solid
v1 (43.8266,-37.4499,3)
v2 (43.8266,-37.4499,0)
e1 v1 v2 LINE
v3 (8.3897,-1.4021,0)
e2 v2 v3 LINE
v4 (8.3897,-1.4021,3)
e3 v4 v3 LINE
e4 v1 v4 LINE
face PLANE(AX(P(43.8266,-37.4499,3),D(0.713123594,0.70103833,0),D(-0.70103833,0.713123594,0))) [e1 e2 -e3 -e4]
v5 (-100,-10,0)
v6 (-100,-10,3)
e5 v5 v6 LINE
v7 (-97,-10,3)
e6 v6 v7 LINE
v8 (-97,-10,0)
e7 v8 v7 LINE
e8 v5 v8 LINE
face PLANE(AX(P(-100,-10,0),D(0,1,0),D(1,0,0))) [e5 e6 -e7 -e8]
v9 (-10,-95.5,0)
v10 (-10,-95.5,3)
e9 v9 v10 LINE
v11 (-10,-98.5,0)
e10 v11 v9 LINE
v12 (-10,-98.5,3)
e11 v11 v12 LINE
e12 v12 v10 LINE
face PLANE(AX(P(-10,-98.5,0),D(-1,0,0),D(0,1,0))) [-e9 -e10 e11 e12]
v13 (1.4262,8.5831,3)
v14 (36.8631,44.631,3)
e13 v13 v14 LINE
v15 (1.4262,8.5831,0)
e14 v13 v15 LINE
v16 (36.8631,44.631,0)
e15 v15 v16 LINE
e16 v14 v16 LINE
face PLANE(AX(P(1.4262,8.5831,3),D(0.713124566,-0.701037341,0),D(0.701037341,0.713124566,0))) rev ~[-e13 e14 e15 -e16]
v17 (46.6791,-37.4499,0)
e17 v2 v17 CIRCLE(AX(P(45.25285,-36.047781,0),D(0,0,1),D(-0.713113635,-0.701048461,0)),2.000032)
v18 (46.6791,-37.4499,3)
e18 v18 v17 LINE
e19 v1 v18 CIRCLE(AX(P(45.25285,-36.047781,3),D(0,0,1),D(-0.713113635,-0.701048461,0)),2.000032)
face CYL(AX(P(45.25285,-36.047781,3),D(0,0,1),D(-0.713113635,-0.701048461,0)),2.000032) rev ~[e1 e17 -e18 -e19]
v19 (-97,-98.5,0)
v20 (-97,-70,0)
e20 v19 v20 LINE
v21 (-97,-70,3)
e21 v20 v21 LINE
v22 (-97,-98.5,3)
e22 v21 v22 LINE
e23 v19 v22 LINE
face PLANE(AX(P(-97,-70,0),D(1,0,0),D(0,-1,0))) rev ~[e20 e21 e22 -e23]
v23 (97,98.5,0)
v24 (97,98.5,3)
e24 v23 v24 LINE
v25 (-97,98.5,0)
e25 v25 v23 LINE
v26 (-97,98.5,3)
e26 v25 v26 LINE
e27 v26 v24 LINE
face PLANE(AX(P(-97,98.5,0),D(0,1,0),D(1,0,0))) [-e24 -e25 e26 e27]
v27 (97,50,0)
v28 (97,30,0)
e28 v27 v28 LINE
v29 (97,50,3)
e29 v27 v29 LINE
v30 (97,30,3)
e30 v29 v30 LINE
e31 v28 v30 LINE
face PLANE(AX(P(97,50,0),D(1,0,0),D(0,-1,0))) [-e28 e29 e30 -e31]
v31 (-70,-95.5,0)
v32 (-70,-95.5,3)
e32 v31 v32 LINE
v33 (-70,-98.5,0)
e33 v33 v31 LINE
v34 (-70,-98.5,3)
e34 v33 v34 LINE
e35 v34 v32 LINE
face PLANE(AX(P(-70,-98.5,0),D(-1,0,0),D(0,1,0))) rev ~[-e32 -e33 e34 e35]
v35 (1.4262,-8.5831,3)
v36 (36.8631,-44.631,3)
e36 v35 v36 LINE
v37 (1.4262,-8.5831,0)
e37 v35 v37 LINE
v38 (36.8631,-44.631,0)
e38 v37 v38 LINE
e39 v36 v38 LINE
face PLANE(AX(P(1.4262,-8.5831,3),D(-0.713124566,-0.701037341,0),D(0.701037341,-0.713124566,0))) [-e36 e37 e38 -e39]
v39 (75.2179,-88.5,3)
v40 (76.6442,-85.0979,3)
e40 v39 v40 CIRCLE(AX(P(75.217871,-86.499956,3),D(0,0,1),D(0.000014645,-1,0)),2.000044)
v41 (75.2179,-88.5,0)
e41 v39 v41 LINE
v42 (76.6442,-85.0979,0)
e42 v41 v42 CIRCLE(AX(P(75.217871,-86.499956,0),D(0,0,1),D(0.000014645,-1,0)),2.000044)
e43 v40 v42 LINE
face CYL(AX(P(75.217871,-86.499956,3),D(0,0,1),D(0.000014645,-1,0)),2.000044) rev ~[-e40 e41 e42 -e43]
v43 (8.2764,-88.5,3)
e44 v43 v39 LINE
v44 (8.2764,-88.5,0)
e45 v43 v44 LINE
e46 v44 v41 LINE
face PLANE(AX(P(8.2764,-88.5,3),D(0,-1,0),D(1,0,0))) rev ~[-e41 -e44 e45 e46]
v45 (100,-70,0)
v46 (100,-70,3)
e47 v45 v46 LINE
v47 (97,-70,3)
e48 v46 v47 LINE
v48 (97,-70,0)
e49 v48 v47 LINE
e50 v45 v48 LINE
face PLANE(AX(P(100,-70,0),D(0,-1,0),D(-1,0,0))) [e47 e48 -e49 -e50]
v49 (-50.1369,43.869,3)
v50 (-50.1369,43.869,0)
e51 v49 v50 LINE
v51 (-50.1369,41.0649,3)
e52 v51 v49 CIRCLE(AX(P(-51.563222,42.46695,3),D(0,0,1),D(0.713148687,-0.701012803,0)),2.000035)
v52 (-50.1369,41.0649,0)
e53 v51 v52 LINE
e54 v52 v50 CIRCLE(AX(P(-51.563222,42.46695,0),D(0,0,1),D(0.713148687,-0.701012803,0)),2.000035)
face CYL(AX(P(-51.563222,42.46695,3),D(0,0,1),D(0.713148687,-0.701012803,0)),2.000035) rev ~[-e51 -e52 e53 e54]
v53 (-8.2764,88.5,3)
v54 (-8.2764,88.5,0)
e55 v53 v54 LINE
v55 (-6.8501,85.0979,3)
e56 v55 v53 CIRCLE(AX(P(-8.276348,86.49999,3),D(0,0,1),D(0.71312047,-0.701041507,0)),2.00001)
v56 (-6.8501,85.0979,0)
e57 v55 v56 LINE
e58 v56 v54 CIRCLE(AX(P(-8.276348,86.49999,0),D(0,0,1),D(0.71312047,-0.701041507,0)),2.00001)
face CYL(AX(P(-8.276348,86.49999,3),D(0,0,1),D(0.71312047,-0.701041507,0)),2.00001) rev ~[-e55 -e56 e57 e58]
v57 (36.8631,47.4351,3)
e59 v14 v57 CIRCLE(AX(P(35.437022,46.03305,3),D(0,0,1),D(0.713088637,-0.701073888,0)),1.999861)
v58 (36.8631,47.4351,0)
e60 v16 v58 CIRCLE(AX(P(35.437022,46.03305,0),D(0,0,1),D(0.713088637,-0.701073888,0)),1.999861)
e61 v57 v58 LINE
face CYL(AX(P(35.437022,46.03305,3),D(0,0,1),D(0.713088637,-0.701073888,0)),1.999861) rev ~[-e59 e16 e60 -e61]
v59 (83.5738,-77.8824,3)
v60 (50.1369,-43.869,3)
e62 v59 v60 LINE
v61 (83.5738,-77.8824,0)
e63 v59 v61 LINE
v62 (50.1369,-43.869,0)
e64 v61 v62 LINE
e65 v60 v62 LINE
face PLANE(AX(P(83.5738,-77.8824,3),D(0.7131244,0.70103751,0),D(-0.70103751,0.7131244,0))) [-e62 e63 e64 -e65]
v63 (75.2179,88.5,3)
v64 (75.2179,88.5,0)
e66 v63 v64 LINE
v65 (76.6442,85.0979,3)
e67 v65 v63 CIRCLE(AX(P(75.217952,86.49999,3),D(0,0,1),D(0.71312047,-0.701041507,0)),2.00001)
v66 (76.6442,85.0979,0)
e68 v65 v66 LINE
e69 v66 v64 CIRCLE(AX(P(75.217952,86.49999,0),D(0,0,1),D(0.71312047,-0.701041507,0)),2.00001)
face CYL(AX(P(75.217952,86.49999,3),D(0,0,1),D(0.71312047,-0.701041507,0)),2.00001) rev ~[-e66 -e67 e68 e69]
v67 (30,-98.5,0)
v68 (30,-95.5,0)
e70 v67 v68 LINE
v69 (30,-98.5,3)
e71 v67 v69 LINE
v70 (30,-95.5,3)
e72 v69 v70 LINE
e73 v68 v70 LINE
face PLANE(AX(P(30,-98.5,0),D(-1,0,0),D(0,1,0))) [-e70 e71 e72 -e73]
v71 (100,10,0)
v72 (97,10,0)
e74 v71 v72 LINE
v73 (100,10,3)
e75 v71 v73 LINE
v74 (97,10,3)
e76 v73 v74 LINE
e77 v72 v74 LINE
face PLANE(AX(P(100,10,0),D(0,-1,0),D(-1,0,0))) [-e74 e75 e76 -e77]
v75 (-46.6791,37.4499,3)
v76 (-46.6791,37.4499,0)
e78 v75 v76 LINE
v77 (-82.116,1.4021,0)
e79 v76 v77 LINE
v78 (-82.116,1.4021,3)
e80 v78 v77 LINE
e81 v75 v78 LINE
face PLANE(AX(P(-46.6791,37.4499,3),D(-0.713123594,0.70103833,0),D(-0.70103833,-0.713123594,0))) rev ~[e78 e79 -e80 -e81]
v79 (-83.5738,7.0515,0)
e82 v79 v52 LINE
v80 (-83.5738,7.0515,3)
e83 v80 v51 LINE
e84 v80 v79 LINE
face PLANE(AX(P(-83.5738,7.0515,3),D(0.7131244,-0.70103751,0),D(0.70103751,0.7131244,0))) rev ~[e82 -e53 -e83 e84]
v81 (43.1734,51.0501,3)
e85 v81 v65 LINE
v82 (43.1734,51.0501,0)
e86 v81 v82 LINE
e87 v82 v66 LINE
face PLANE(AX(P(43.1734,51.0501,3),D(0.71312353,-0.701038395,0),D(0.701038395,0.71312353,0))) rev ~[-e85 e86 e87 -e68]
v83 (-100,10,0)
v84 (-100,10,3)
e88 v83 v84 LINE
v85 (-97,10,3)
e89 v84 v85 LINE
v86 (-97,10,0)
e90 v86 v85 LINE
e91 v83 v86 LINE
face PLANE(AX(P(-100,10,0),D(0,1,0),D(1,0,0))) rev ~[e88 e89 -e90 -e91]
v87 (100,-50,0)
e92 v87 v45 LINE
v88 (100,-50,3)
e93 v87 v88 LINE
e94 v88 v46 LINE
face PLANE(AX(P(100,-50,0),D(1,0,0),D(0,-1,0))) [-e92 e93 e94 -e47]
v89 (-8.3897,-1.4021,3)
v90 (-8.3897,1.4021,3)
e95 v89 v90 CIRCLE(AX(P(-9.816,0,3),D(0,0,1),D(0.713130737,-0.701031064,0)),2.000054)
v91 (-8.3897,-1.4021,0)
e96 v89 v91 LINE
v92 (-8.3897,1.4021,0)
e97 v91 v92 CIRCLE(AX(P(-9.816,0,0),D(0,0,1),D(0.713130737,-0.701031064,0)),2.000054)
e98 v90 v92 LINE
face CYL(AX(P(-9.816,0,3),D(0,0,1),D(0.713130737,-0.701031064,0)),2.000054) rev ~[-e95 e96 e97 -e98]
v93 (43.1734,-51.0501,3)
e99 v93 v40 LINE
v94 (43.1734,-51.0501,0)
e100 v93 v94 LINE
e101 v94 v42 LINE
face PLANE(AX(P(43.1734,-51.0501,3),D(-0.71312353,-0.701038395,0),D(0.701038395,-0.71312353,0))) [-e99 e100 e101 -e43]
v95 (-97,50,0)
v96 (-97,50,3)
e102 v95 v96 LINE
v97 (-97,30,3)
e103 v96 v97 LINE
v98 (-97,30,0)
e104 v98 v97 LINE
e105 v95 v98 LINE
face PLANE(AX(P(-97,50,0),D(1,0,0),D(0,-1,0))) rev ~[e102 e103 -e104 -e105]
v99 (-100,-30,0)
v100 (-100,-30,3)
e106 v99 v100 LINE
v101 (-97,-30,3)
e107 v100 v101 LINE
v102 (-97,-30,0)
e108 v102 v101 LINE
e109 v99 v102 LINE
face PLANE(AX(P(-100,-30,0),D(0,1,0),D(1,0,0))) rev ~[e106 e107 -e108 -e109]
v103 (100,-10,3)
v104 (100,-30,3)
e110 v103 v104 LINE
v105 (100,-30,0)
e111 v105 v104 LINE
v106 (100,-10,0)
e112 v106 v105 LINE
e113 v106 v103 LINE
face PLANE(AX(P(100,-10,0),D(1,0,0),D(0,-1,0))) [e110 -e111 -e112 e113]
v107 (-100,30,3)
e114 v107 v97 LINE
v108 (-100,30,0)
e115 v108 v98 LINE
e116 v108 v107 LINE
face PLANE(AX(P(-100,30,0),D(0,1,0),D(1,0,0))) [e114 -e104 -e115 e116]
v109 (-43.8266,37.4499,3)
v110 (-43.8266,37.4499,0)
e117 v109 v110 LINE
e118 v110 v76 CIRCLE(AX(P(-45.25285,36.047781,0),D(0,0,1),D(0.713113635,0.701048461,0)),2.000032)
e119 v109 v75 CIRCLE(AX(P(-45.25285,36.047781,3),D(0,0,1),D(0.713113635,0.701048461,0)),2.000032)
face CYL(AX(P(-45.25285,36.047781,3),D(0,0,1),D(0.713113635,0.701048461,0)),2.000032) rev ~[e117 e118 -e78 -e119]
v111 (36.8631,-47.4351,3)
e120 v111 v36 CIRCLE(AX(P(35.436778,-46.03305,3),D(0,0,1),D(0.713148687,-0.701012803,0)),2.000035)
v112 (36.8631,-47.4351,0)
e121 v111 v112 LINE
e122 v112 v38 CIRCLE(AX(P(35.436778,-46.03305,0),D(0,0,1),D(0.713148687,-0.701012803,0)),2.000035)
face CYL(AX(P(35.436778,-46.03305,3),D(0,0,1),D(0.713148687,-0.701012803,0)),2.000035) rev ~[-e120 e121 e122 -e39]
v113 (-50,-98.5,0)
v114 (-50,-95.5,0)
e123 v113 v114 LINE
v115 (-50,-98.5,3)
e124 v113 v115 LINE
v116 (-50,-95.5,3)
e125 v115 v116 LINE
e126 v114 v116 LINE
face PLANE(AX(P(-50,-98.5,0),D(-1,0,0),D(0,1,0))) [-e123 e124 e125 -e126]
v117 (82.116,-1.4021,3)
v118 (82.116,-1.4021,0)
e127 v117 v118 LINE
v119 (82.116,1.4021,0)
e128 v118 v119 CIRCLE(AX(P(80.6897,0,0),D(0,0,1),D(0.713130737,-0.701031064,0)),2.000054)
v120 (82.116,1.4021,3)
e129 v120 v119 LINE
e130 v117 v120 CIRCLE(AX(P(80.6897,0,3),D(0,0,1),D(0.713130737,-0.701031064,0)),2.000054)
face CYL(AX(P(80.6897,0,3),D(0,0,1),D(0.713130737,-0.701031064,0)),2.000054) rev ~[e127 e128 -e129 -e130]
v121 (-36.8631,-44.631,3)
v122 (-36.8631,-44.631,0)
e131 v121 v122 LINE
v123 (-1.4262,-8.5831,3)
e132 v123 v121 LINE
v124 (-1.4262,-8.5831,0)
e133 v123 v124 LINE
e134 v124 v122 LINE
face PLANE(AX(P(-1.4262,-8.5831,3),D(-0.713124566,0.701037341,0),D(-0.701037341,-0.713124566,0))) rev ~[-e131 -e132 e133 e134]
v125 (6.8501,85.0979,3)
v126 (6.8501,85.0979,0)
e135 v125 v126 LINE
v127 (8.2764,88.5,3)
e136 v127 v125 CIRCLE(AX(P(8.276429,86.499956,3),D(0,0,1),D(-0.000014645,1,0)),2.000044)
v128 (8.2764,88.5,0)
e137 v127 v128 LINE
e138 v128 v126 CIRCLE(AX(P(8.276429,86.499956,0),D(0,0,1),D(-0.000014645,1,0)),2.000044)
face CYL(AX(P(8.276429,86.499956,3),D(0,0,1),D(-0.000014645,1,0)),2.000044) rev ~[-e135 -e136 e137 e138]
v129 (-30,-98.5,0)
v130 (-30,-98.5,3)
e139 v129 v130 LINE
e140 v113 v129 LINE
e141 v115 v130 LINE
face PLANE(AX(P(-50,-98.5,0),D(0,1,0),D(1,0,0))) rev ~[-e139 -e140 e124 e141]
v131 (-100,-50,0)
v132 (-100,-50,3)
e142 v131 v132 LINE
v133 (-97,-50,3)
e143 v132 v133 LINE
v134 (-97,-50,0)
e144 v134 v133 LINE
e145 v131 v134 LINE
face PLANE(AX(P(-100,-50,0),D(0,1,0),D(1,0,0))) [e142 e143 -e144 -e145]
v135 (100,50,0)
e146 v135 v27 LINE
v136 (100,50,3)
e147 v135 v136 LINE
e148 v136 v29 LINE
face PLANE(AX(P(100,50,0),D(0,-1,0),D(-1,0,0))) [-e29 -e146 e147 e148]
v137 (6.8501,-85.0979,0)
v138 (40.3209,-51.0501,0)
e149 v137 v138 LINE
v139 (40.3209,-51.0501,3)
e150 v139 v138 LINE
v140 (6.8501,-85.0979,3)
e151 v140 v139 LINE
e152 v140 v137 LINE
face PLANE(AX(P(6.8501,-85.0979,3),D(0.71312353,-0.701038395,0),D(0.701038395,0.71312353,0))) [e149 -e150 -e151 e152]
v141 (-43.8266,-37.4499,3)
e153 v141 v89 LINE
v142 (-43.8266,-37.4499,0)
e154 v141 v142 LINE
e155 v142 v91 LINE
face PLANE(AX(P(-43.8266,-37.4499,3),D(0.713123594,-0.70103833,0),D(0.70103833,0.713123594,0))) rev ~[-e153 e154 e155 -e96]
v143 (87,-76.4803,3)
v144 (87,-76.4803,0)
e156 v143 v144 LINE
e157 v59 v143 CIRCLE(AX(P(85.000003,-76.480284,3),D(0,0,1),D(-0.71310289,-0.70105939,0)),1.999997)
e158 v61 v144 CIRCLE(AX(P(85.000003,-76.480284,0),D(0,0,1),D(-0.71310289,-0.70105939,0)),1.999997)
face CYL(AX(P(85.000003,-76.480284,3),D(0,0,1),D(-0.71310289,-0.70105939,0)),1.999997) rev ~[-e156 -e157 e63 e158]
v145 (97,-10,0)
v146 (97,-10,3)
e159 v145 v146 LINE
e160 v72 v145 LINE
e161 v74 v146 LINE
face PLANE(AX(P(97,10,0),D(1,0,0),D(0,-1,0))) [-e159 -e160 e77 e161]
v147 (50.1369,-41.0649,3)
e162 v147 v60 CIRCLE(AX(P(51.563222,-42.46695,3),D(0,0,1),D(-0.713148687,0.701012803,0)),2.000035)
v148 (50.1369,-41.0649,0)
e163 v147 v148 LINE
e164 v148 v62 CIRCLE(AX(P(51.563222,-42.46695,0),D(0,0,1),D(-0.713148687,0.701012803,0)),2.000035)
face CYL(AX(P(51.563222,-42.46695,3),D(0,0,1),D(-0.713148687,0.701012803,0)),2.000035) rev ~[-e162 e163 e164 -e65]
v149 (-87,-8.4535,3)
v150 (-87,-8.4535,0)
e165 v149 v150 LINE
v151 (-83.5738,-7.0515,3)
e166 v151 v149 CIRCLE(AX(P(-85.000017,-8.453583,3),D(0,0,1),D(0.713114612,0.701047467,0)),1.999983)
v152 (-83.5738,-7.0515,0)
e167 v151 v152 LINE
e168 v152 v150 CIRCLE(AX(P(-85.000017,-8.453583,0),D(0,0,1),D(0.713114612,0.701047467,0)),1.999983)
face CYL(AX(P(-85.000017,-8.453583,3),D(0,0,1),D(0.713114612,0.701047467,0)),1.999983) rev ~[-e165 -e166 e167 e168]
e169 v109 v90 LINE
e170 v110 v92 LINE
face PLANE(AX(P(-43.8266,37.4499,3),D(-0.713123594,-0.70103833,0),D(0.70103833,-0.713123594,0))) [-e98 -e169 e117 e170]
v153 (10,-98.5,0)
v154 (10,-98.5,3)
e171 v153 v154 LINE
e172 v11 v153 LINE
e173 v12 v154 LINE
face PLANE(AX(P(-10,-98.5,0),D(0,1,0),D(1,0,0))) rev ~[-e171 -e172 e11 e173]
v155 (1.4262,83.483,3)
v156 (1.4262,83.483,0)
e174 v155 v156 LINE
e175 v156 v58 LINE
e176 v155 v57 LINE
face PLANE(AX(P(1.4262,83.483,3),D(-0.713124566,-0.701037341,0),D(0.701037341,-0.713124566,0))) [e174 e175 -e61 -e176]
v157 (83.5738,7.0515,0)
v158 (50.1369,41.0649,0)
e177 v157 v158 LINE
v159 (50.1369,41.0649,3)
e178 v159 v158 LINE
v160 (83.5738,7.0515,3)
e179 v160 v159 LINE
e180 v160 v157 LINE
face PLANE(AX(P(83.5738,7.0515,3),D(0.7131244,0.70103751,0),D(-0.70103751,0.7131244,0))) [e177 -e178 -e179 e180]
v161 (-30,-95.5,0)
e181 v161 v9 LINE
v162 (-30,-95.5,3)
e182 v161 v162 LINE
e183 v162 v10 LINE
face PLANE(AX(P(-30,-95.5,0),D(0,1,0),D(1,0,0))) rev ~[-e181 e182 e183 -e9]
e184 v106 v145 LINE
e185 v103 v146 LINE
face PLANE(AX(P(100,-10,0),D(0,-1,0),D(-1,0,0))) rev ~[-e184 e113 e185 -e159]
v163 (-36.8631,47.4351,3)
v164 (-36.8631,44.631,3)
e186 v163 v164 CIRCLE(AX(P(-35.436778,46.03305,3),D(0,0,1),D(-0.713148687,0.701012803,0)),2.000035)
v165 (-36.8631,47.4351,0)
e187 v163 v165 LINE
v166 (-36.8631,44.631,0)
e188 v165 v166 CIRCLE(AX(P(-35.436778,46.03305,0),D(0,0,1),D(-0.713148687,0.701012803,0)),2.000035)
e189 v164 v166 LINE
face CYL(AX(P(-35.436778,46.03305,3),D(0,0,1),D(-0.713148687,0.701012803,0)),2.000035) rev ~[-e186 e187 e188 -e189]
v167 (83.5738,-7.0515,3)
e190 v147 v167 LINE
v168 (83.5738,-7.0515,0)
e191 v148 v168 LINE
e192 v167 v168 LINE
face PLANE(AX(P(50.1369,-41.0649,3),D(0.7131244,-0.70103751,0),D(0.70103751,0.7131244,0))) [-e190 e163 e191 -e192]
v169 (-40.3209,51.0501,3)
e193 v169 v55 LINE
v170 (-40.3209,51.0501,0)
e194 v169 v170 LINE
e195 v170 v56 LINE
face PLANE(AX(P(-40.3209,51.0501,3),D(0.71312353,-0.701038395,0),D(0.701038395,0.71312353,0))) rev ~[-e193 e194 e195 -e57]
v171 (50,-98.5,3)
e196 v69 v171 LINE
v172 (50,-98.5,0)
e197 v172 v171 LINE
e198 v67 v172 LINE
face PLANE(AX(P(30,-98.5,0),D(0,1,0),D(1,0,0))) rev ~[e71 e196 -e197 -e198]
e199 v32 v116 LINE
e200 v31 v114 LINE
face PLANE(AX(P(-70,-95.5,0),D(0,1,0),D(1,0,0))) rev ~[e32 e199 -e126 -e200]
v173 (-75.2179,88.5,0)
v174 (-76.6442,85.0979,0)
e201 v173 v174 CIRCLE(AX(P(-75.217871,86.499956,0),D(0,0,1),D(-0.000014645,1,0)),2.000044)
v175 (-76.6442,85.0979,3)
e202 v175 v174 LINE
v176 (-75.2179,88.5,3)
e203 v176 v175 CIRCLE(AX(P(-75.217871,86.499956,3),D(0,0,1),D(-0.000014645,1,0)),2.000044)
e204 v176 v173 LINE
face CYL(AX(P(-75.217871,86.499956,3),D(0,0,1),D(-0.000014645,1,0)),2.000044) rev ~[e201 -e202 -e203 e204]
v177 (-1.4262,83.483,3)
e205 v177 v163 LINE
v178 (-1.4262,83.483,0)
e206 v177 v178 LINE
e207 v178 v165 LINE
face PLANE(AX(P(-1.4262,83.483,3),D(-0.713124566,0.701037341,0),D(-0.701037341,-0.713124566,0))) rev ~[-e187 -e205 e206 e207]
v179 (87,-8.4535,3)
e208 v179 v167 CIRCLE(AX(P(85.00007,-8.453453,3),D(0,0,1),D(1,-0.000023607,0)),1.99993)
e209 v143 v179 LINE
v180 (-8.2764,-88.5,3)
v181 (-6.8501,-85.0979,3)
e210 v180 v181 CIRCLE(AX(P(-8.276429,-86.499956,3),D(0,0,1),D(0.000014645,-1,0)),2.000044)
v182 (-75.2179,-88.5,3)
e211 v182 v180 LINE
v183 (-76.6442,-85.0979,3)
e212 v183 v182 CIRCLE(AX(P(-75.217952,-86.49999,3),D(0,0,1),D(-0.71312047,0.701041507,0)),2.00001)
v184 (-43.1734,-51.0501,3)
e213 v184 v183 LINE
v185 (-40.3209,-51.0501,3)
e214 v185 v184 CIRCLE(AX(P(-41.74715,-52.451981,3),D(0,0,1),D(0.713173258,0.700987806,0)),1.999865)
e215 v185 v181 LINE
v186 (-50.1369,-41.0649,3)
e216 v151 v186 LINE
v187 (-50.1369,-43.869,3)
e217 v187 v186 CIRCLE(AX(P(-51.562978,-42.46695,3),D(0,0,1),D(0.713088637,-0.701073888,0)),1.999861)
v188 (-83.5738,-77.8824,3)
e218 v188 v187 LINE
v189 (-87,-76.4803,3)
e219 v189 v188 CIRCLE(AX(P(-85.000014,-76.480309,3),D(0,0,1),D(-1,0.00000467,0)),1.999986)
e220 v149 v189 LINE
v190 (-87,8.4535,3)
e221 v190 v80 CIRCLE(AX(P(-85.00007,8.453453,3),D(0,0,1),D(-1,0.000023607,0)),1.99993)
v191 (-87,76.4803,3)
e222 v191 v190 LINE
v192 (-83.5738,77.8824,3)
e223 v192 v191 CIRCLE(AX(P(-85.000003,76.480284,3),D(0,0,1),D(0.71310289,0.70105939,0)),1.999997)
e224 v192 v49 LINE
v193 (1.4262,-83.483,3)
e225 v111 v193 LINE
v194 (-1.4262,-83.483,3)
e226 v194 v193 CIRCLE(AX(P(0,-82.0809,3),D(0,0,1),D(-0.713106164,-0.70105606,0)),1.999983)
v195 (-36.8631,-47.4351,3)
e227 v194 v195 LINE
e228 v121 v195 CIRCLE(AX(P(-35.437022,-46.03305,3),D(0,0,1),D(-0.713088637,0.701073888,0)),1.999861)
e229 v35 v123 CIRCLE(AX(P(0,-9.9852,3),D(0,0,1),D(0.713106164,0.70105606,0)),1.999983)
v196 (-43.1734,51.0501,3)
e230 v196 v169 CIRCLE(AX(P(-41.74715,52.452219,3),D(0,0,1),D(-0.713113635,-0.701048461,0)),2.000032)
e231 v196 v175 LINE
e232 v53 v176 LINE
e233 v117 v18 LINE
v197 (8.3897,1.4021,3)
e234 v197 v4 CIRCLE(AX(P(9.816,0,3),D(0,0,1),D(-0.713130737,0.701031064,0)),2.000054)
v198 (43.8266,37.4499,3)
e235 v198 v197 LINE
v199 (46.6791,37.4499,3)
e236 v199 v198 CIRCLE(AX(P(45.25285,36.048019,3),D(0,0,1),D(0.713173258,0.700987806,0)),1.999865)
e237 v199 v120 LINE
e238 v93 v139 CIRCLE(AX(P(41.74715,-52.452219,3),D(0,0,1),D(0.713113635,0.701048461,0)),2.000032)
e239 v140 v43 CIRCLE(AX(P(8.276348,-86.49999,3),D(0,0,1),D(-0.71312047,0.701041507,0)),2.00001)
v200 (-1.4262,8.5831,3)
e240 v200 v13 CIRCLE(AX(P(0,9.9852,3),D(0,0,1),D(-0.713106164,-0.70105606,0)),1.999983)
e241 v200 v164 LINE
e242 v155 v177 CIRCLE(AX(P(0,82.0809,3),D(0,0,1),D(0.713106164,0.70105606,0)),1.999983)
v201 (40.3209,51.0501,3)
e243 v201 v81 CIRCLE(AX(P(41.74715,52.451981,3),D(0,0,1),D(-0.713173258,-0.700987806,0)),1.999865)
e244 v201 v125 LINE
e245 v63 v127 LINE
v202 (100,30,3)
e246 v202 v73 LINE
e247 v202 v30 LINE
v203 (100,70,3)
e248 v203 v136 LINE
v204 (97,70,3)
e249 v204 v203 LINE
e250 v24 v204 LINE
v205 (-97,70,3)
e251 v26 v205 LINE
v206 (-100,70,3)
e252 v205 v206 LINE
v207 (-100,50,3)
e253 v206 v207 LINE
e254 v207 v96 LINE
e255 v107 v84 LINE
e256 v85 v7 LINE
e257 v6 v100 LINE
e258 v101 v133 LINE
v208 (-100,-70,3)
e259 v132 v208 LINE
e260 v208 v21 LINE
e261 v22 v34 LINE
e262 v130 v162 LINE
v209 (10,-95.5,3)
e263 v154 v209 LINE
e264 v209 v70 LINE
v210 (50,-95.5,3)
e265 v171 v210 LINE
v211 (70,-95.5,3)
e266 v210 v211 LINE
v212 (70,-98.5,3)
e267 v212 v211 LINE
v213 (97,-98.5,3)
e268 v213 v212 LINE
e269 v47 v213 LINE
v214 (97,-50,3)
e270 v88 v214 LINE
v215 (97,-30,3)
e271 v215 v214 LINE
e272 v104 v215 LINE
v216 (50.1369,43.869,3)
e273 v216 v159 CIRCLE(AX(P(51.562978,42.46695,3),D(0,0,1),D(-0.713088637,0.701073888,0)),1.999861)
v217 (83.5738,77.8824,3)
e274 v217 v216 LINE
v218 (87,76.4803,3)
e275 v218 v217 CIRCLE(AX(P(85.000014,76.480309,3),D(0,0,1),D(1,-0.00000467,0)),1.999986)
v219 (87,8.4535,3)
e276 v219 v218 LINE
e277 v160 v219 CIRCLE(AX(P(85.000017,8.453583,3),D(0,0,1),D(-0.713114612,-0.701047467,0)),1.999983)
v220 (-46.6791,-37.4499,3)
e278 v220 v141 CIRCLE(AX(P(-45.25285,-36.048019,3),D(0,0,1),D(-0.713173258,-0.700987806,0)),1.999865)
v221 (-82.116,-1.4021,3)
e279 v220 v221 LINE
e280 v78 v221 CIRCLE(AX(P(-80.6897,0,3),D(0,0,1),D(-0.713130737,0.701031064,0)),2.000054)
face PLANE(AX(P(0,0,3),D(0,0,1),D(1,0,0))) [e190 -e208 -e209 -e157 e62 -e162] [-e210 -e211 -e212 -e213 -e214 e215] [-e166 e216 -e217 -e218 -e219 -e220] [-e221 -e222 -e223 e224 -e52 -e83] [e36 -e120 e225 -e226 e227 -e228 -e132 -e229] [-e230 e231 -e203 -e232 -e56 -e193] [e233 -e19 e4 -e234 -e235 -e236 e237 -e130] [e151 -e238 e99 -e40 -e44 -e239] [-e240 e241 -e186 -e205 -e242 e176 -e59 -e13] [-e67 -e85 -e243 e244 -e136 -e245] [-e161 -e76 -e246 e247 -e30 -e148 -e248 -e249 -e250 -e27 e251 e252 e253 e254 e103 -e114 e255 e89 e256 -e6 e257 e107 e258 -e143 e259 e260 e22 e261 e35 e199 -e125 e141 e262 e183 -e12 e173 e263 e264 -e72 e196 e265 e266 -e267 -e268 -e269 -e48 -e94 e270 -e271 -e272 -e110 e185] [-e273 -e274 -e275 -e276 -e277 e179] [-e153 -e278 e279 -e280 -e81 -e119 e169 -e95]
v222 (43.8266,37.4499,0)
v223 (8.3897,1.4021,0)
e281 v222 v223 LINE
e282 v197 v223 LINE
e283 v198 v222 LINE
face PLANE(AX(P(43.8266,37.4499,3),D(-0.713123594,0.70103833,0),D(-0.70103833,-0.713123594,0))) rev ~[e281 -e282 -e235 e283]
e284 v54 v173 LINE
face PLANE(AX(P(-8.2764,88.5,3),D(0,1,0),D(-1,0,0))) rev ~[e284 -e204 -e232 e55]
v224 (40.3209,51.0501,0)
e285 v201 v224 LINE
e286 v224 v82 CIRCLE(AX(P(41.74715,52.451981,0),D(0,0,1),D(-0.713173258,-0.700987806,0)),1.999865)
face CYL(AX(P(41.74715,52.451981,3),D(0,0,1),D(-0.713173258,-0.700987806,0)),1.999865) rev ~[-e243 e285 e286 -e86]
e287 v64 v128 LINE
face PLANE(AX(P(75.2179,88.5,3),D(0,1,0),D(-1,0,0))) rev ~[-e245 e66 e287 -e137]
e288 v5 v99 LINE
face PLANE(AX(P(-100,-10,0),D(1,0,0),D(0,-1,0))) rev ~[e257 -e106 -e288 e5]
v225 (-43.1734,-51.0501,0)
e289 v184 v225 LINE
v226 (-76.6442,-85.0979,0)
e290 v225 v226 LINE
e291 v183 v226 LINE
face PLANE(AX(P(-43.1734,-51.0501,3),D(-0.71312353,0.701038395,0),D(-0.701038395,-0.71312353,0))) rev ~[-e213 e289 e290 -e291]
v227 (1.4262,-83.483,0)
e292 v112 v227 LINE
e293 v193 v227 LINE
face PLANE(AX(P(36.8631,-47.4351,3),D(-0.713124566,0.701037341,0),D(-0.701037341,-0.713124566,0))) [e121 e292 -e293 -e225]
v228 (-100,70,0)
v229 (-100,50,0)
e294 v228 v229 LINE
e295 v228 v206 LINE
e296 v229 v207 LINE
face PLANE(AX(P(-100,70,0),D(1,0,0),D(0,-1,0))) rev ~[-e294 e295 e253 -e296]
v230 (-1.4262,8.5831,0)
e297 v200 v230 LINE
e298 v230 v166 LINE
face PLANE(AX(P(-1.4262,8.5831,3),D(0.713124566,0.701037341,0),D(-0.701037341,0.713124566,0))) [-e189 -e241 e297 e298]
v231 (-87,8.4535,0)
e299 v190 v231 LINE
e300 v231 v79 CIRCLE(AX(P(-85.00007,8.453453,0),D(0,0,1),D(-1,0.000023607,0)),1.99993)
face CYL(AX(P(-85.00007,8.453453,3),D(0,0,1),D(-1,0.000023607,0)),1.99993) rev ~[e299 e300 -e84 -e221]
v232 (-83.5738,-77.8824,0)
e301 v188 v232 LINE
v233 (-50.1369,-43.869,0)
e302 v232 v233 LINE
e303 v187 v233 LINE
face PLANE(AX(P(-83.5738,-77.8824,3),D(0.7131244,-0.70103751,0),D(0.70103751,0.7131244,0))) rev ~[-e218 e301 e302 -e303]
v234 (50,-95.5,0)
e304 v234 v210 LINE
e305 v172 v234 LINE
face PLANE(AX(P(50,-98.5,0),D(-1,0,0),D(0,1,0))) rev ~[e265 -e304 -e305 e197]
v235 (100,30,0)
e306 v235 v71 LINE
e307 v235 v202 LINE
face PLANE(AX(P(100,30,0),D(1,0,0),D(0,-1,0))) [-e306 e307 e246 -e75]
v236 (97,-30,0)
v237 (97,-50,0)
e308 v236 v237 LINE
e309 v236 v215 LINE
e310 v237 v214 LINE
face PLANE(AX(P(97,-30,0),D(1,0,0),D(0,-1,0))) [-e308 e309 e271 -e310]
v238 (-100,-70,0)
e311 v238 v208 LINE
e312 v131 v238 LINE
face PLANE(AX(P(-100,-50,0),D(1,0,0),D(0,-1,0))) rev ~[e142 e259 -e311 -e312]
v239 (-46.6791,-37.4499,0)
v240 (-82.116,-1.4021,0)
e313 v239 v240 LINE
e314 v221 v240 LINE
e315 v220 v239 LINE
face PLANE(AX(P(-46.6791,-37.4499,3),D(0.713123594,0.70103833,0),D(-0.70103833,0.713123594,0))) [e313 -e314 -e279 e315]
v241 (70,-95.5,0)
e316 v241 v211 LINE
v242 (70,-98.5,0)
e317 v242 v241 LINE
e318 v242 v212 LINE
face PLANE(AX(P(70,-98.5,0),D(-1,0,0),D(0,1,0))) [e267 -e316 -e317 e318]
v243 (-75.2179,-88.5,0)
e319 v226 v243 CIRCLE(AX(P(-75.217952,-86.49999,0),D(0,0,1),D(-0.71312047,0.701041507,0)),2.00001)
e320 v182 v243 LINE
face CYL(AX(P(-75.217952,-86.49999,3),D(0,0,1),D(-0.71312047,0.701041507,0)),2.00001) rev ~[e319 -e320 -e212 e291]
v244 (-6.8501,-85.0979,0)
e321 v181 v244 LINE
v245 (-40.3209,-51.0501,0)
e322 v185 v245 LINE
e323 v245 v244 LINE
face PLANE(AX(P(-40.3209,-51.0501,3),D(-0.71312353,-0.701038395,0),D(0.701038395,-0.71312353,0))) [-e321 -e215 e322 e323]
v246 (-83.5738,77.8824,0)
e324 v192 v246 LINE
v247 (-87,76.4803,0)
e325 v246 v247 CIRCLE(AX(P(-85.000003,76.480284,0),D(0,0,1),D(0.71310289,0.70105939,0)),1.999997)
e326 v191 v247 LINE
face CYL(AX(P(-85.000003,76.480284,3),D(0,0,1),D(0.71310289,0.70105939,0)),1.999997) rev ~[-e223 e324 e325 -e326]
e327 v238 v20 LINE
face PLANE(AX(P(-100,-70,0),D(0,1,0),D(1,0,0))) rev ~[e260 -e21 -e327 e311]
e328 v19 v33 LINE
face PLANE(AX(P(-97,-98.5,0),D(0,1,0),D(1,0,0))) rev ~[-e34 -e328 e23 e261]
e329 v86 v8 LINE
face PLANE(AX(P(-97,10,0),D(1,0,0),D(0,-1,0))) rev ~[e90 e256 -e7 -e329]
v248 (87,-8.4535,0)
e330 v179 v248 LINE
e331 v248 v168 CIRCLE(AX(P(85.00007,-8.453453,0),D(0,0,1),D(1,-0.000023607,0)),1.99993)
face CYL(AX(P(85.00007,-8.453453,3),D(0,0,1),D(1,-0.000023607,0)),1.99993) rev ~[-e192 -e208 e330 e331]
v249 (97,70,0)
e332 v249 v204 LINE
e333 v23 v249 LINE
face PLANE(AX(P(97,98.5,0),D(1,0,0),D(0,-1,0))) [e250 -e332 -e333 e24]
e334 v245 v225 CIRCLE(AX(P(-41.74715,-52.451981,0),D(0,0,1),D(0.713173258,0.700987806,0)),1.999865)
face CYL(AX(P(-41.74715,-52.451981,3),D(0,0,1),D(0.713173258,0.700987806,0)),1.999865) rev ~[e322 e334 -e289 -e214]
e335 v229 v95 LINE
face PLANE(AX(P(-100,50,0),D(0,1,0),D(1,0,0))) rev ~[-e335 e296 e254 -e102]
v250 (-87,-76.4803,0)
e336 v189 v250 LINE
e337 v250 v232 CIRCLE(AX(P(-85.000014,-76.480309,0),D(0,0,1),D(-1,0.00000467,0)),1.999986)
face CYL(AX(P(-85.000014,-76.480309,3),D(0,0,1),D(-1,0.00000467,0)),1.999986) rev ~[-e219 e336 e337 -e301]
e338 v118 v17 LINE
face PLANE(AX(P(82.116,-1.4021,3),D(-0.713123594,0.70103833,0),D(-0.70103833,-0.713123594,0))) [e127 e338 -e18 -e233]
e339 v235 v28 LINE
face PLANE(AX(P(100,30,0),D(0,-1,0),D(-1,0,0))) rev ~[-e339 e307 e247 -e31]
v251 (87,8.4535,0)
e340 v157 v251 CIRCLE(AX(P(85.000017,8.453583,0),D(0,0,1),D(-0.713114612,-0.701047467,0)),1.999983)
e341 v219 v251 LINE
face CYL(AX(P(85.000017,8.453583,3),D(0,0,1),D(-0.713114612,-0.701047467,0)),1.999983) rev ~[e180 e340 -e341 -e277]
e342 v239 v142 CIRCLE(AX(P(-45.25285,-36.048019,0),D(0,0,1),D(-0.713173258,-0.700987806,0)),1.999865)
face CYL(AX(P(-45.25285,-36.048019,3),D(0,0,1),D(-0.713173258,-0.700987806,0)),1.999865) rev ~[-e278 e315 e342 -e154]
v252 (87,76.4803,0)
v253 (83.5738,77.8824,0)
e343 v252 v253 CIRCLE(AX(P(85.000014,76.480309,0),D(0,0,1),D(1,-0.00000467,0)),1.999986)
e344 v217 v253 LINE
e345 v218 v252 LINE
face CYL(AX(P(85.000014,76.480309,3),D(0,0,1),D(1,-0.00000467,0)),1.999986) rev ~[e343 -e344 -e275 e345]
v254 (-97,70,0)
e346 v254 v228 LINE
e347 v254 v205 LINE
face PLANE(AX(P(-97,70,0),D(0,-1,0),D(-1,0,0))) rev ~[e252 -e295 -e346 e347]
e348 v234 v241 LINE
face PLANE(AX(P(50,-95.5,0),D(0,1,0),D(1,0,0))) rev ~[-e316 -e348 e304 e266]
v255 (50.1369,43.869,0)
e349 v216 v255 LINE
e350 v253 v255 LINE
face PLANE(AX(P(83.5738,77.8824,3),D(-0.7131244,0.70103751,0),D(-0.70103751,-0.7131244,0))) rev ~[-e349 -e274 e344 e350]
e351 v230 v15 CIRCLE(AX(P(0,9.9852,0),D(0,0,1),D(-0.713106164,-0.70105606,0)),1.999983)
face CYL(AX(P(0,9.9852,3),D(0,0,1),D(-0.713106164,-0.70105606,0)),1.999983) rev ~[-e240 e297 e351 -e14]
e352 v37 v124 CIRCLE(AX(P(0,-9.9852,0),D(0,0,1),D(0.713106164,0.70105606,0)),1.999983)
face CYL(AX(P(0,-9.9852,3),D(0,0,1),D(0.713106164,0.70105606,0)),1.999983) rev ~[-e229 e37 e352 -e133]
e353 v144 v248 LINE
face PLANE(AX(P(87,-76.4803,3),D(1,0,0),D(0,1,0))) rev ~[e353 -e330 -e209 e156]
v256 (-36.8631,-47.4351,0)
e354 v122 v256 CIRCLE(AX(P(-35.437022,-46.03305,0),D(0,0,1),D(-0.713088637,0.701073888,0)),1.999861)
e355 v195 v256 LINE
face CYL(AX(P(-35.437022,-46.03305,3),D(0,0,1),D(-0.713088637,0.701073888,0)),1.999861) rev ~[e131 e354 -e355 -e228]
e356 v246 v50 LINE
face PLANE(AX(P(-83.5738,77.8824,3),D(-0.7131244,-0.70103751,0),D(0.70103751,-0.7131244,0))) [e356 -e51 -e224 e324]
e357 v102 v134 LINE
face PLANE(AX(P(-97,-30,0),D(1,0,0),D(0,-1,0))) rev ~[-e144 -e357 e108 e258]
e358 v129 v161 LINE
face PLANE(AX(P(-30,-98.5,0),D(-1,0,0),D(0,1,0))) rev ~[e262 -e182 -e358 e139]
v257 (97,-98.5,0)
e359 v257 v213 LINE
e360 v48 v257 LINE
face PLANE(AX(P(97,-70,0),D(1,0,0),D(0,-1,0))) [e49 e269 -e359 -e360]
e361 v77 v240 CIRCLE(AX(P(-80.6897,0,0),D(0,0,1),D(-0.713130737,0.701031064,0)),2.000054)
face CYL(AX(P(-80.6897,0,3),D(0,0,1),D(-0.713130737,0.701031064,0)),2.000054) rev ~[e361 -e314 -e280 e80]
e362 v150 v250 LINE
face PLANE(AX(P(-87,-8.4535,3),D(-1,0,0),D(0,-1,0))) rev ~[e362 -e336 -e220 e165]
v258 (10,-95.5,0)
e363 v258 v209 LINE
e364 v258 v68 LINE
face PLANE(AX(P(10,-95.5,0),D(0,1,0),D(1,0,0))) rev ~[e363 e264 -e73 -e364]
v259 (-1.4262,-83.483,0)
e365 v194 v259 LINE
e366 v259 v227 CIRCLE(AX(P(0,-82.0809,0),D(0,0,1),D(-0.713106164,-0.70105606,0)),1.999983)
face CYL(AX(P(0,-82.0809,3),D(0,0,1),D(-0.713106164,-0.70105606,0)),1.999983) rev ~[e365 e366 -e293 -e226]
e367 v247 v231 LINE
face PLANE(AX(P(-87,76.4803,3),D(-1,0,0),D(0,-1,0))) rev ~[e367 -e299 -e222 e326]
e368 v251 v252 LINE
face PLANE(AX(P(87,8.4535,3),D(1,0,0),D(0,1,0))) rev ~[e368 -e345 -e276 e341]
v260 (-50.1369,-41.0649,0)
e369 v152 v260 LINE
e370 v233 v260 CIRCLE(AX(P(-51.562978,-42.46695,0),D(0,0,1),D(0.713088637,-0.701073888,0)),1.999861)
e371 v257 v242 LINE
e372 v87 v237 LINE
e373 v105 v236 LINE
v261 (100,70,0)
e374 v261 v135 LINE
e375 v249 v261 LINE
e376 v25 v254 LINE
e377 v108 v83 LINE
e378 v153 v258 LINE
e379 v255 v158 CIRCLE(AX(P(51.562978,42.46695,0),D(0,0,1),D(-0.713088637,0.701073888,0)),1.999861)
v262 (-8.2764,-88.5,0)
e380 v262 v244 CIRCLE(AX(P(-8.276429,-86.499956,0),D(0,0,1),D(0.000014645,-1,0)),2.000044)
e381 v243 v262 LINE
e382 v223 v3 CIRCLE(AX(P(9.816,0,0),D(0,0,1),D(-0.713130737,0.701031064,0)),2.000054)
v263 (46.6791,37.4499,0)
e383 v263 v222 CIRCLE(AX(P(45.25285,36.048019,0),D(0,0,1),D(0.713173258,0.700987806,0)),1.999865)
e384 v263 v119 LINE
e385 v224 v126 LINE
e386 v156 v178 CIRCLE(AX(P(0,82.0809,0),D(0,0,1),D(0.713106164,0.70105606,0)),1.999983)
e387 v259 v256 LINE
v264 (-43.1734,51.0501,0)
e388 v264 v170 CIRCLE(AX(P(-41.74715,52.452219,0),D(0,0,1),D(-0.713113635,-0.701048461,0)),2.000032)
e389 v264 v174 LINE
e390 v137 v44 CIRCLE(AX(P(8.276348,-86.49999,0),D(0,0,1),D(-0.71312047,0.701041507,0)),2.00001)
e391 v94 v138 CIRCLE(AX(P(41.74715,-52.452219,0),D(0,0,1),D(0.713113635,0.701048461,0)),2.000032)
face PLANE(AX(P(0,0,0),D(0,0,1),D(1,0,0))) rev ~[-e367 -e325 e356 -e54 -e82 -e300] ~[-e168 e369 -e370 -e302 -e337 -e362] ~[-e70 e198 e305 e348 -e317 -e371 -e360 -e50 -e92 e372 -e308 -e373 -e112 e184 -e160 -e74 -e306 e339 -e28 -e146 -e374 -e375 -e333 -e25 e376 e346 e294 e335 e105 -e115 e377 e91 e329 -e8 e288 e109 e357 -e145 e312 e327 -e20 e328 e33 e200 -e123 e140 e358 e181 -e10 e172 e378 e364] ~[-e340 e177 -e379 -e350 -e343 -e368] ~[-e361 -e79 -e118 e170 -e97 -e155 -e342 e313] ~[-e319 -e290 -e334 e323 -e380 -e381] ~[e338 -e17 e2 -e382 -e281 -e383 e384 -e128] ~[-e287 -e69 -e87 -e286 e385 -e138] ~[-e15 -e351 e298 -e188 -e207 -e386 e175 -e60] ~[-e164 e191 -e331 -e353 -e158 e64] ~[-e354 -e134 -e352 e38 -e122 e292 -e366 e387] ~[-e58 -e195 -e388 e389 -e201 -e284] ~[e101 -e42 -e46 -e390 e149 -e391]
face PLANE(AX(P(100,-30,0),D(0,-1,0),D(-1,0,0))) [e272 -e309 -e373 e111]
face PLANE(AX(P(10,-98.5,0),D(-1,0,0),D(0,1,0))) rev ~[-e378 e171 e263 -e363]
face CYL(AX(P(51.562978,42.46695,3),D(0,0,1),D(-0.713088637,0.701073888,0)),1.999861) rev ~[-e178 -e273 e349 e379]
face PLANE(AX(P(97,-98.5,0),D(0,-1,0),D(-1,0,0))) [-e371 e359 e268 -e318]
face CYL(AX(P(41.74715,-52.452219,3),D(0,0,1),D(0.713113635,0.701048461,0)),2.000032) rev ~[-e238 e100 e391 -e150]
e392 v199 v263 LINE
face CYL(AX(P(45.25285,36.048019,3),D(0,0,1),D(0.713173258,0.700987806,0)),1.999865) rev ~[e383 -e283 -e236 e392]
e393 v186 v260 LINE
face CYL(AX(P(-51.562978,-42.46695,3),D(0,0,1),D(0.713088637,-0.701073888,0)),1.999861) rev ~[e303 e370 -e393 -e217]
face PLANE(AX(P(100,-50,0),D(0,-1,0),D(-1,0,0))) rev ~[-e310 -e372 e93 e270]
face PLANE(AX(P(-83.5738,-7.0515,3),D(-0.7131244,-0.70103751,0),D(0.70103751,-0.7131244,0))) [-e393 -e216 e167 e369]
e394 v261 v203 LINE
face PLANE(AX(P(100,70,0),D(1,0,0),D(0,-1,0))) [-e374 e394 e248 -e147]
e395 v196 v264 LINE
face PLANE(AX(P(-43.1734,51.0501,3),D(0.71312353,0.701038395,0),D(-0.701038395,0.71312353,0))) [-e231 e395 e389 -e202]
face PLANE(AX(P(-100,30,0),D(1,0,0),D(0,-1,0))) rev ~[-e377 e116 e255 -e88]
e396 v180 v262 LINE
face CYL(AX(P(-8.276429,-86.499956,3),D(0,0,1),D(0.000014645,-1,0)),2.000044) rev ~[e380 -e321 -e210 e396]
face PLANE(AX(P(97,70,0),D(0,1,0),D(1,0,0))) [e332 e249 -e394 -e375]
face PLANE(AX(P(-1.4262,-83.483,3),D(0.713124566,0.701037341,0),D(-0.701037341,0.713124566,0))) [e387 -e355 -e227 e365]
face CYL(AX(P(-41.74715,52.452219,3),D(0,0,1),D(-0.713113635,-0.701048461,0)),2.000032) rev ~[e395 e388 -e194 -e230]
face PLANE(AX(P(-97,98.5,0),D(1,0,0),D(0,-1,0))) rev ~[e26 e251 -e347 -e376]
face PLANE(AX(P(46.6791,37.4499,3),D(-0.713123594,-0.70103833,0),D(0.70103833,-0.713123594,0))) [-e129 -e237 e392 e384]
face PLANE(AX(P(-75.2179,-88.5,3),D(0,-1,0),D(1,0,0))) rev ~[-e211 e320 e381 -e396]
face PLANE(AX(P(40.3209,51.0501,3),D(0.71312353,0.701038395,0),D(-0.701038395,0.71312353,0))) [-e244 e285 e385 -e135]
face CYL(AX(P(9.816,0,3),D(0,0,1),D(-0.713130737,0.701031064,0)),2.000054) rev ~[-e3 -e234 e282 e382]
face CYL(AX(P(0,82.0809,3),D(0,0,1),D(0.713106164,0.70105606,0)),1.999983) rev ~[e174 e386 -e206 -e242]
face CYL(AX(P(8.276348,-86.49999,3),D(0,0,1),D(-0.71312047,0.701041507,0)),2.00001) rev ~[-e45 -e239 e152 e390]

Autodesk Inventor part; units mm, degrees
ref_plane "YZ Plane" through (0, 0, 0) normal (1, 0, 0) x (0, 1, 0)
ref_plane "XZ Plane" through (0, 0, 0) normal (0, 1, 0) x (-1, 0, 0)
ref_plane "XY Plane" through (0, 0, 0) normal (0, 0, 1) x (1, 0, 0)
sketch "Sketch1" plane through (0, 0, 0) normal (0, 0, 1) x (1, 0, 0)
  line L0 (-97, 98.5) -> (97, 98.5)
  line L1 (-100, 98.5) -> (100, -98.5) construction
  line L2 (100, 98.5) -> (-100, -98.5) construction
  line L3 (-97, 98.5) -> (-97, 70)
  line L4 (-97, 50) -> (-97, 30)
  line L5 (-97, 10) -> (-97, -10)
  line L6 (-97, -70) -> (-97, -98.5)
  line L7 (-97, 70) -> (-100, 70)
  line L8 (-100, 70) -> (-100, 50)
  line L9 (-100, 30) -> (-100, 10)
  line L10 (-100, -10) -> (-100, -30)
  line L11 (-100, -50) -> (-100, -70)
  line L12 (-100, -70) -> (-97, -70)
  line L13 (-100, -50) -> (-97, -50)
  line L14 (-100, -30) -> (-97, -30)
  line L15 (-100, -10) -> (-97, -10)
  line L16 (-100, 10) -> (-97, 10)
  line L17 (-100, 30) -> (-97, 30)
  line L18 (-100, 50) -> (-97, 50)
  line L19 (97, 98.5) -> (97, 70)
  line L20 (97, 50) -> (97, 30)
  line L21 (97, 10) -> (97, -10)
  line L22 (97, -30) -> (97, -50)
  line L23 (97, -70) -> (97, -98.5)
  line L24 (97, 70) -> (100, 70)
  line L25 (100, 70) -> (100, 50)
  line L26 (100, 30) -> (100, 10)
  line L27 (100, -10) -> (100, -30)
  line L28 (100, -50) -> (100, -70)
  line L29 (100, -70) -> (97, -70)
  line L30 (100, -50) -> (97, -50)
  line L31 (100, -30) -> (97, -30)
  line L32 (100, -10) -> (97, -10)
  line L33 (100, 10) -> (97, 10)
  line L34 (100, 30) -> (97, 30)
  line L35 (100, 50) -> (97, 50)
  line L36 (-100, 50) -> (-100, 70)
  line L37 (-97, 98.5) -> (-97, 70)
  line L38 (-97, 50) -> (-97, 30)
  line L39 (-100, 10) -> (-100, 30)
  line L40 (-97, 10) -> (-97, -10)
  line L41 (-100, -70) -> (-100, -50)
  line L42 (-100, -30) -> (-100, -10)
  line L43 (-97, -30) -> (-97, -50)
  line L44 (-97, -70) -> (-97, -98.5)
  line L45 (100, 50) -> (100, 70)
  line L46 (100, 70) -> (100, 50)
  line L47 (97, 98.5) -> (97, 70)
  line L48 (97, 50) -> (97, 30)
  line L49 (100, 30) -> (100, 10)
  line L50 (100, 10) -> (100, 30)
  line L51 (97, 10) -> (97, -10)
  line L52 (100, -70) -> (100, -50)
  line L53 (100, -30) -> (100, -10)
  line L54 (100, -10) -> (100, -30)
  line L55 (100, -50) -> (100, -70)
  line L56 (97, -30) -> (97, -50)
  line L57 (97, -70) -> (97, -98.5)
  line L58 (-97, -98.5) -> (-70, -98.5)
  line L59 (-50, -98.5) -> (-30, -98.5)
  line L60 (-10, -98.5) -> (10, -98.5)
  line L61 (30, -98.5) -> (50, -98.5)
  line L62 (-97, -98.5) -> (-97, -95.5)
  line L63 (-97, -95.5) -> (97, -95.5) construction
  line L64 (-70, -98.5) -> (-70, -95.5)
  line L65 (-50, -98.5) -> (-50, -95.5)
  line L66 (-30, -98.5) -> (-30, -95.5)
  line L67 (-10, -98.5) -> (-10, -95.5)
  line L68 (10, -98.5) -> (10, -95.5)
  line L69 (30, -98.5) -> (30, -95.5)
  line L70 (50, -98.5) -> (50, -95.5)
  line L71 (70, -98.5) -> (70, -95.5)
  line L72 (97, -98.5) -> (70, -98.5)
  line L73 (50, -95.5) -> (70, -95.5)
  line L74 (50, -98.5) -> (30, -98.5)
  line L75 (10, -95.5) -> (30, -95.5)
  line L76 (10, -98.5) -> (-10, -98.5)
  line L77 (-70, -95.5) -> (-50, -95.5)
  line L78 (-30, -95.5) -> (-10, -95.5)
  line L79 (-30, -98.5) -> (-50, -98.5)
  line L80 (-70, -98.5) -> (-97, -98.5)
  point P0 (0, 0)
extrude "Extrusion1" add sketch "Sketch1" along normal blind 3
sketch "Sketch2" plane through (0, 0, 3) normal (0, 0, 1) x (1, 0, 0)
  line L0 (-97, 98.5) -> (-97, 70) projected
  line L1 (-97, 70) -> (-100, 70) projected
  line L2 (-100, 70) -> (-100, 50) projected
  line L3 (-100, 50) -> (-97, 50) projected
  line L4 (-97, 50) -> (-97, 30) projected
  line L5 (-97, 30) -> (-100, 30) projected
  line L6 (-100, 30) -> (-100, 10) projected
  line L7 (-100, 10) -> (-97, 10) projected
  line L8 (-97, 10) -> (-97, -10) projected
  line L9 (-97, -10) -> (-100, -10) projected
  line L10 (-100, -10) -> (-100, -30) projected
  line L11 (-100, -30) -> (-97, -30) projected
  line L12 (-97, -30) -> (-97, -50) projected
  line L13 (-97, -50) -> (-100, -50) projected
  line L14 (-100, -50) -> (-100, -70) projected
  line L15 (-100, -70) -> (-97, -70) projected
  line L16 (-97, -70) -> (-97, -98.5) projected
  line L17 (-97, -98.5) -> (-70, -98.5) projected
  line L18 (-70, -98.5) -> (-70, -95.5) projected
  line L19 (-70, -95.5) -> (-50, -95.5) projected
  line L20 (-50, -95.5) -> (-50, -98.5) projected
  line L21 (-50, -98.5) -> (-30, -98.5) projected
  line L22 (-30, -98.5) -> (-30, -95.5) projected
  line L23 (-30, -95.5) -> (-10, -95.5) projected
  line L24 (-10, -95.5) -> (-10, -98.5) projected
  line L25 (-10, -98.5) -> (10, -98.5) projected
  line L26 (10, -98.5) -> (10, -95.5) projected
  line L27 (10, -95.5) -> (30, -95.5) projected
  line L28 (30, -95.5) -> (30, -98.5) projected
  line L29 (30, -98.5) -> (50, -98.5) projected
  line L30 (50, -98.5) -> (50, -95.5) projected
  line L31 (50, -95.5) -> (70, -95.5) projected
  line L32 (70, -95.5) -> (70, -98.5) projected
  line L33 (70, -98.5) -> (97, -98.5) projected
  line L34 (97, -98.5) -> (97, -70) projected
  line L35 (97, -70) -> (100, -70) projected
  line L36 (100, -70) -> (100, -50) projected
  line L37 (100, -50) -> (97, -50) projected
  line L38 (97, -50) -> (97, -30) projected
  line L39 (97, -30) -> (100, -30) projected
  line L40 (100, -30) -> (100, -10) projected
  line L41 (100, -10) -> (97, -10) projected
  line L42 (97, -10) -> (97, 10) projected
  line L43 (97, 10) -> (100, 10) projected
  line L44 (100, 10) -> (100, 30) projected
  line L45 (100, 30) -> (97, 30) projected
  line L46 (97, 30) -> (97, 50) projected
  line L47 (97, 50) -> (100, 50) projected
  line L48 (100, 50) -> (100, 70) projected
  line L49 (100, 70) -> (97, 70) projected
  line L50 (97, 70) -> (97, 98.5) projected
  line L51 (97, 98.5) -> (-97, 98.5) projected
  line L52 (-97, 98.5) -> (97, 98.5)
  line L53 (97, 98.5) -> (97, -98.5)
  line L54 (97, -98.5) -> (-97, -98.5)
  line L55 (-97, -98.5) -> (-97, 98.5)
  line L56 (-90.5656, -84.9948) -> (90.5656, 84.9948) construction
  line L57 (-90.5656, 84.9948) -> (90.5656, -84.9948) construction
  line L58 (83.4344, -92.0052) -> (-83.4344, 92.0052) construction
  line L59 (1.7528, 86.7169) -> (1.7516, 86.7182)
  line L60 (-88.7828, -1.7526) -> (0, -85.0743) construction
  line L61 (-1.7828, -90.2526) -> (-85.2172, 1.7526) construction
  line L62 (85.2172, 1.7526) -> (1.7828, -90.2526) construction
  line L63 (85.2172, -1.7526) -> (1.7828, 90.2526) construction
  line L64 (-88.7828, 1.7526) -> (1.7828, 86.7474) construction
  line L65 (-1.7828, 90.2526) -> (-85.2172, -1.7526) construction
  line L66 (75.2179, 88.5) -> (8.2764, 88.5)
  line L67 (-8.2764, 88.5) -> (-75.2179, 88.5)
  line L68 (87, -76.4803) -> (87, -8.4535)
  line L69 (87, 8.4535) -> (87, 76.4803)
  line L70 (6.8501, -85.0979) -> (40.3209, -51.0501)
  line L71 (50.1369, -41.0649) -> (83.5738, -7.0515)
  line L72 (82.116, -1.4021) -> (46.6791, -37.4499)
  line L73 (43.1734, -51.0501) -> (76.6442, -85.0979)
  line L74 (40.3209, 51.0501) -> (6.8501, 85.0979)
  line L75 (46.6791, 37.4499) -> (82.116, 1.4021)
  line L76 (83.5738, 7.0515) -> (50.1369, 41.0649)
  line L77 (83.5738, 77.8824) -> (50.1369, 43.869)
  line L78 (83.4344, 92.0052) -> (41.6783, 45.9597) construction
  line L79 (3.3643, 3.7099) -> (-83.4344, -92.0052) construction
  line L80 (43.1734, 51.0501) -> (76.6442, 85.0979)
  line L81 (1.4262, 83.483) -> (36.8631, 47.4351)
  line L82 (-1.7828, 86.7474) -> (-1.7516, 86.7182) construction
  line L83 (0, 85.0743) -> (88.7828, 1.7526) construction
  line L84 (-1.4262, 83.483) -> (-36.8631, 47.4351)
  line L85 (-46.6791, 37.4499) -> (-82.116, 1.4021)
  line L86 (-43.1734, 51.0501) -> (-76.6442, 85.0979)
  line L87 (-83.5738, 7.0515) -> (-50.1369, 41.0649)
  line L88 (-40.3209, 51.0501) -> (-6.8501, 85.0979)
  line L89 (-83.5738, 77.8824) -> (-50.1369, 43.869)
  line L90 (-87, 76.4803) -> (-87, 8.4535)
  line L91 (-87, -8.4535) -> (-87, -76.4803)
  line L92 (36.8631, -47.4351) -> (1.4262, -83.483)
  line L93 (-75.2179, -88.5) -> (-8.2764, -88.5)
  line L94 (8.2764, -88.5) -> (75.2179, -88.5)
  line L95 (0, -85.0743) -> (88.7828, -1.7526) construction
  line L96 (-83.5738, -7.0515) -> (-50.1369, -41.0649)
  line L97 (-40.3209, -51.0501) -> (-6.8501, -85.0979)
  line L98 (-1.4262, -83.483) -> (-36.8631, -47.4351)
  line L99 (-46.6791, -37.4499) -> (-82.116, -1.4021)
  line L100 (-43.1734, -51.0501) -> (-76.6442, -85.0979)
  line L101 (-83.5738, -77.8824) -> (-50.1369, -43.869)
  line L102 (43.8266, 37.4499) -> (8.3897, 1.4021)
  line L103 (-1.4262, 8.5831) -> (-36.8631, 44.631)
  line L104 (-1.4262, -8.5831) -> (-36.8631, -44.631)
  line L105 (-43.8266, 37.4499) -> (-8.3897, 1.4021)
  line L106 (1.4262, -8.5831) -> (36.8631, -44.631)
  line L107 (-43.8266, -37.4499) -> (-8.3897, -1.4021)
  line L108 (1.4262, 8.5831) -> (36.8631, 44.631)
  line L109 (83.5738, -77.8824) -> (50.1369, -43.869)
  line L110 (43.8266, -37.4499) -> (8.3897, -1.4021)
  arc A0 (-83.5738, 77.8824) -> (-87, 76.4803) centre (-85, 76.4803) ccw
  arc A1 (-50.1369, 41.0649) -> (-50.1369, 43.869) centre (-51.5631, 42.4669) ccw
  arc A2 (-87, 8.4535) -> (-83.5738, 7.0515) centre (-85, 8.4535) ccw
  arc A3 (-43.8266, 37.4499) -> (-46.6791, 37.4499) centre (-45.2528, 36.0479) ccw
  arc A4 (-82.116, 1.4021) -> (-82.116, -1.4021) centre (-80.6897, 0) ccw
  arc A5 (-8.3897, -1.4021) -> (-8.3897, 1.4021) centre (-9.816, 0) ccw
  arc A6 (-46.6791, -37.4499) -> (-43.8266, -37.4499) centre (-45.2528, -36.0479) ccw
  arc A7 (-83.5738, -7.0515) -> (-87, -8.4535) centre (-85, -8.4535) ccw
  arc A8 (-50.1369, -43.869) -> (-50.1369, -41.0649) centre (-51.5631, -42.4669) ccw
  arc A9 (-87, -76.4803) -> (-83.5738, -77.8824) centre (-85, -76.4803) ccw
  arc A10 (-40.3209, -51.0501) -> (-43.1734, -51.0501) centre (-41.7472, -52.4521) ccw
  arc A11 (-8.2764, -88.5) -> (-6.8501, -85.0979) centre (-8.2764, -86.5) ccw
  arc A12 (-76.6442, -85.0979) -> (-75.2179, -88.5) centre (-75.2179, -86.5) ccw
  arc A13 (6.8501, -85.0979) -> (8.2764, -88.5) centre (8.2764, -86.5) ccw
  arc A14 (75.2179, -88.5) -> (76.6442, -85.0979) centre (75.2179, -86.5) ccw
  arc A15 (43.1734, -51.0501) -> (40.3209, -51.0501) centre (41.7472, -52.4521) ccw
  arc A16 (36.8631, -47.4351) -> (36.8631, -44.631) centre (35.4369, -46.0331) ccw
  arc A17 (1.4262, -8.5831) -> (-1.4262, -8.5831) centre (0, -9.9852) ccw
  arc A18 (-36.8631, -44.631) -> (-36.8631, -47.4351) centre (-35.4369, -46.0331) ccw
  arc A19 (-1.4262, -83.483) -> (1.4262, -83.483) centre (0, -82.0809) ccw
  arc A20 (8.3897, 1.4021) -> (8.3897, -1.4021) centre (9.816, 0) ccw
  arc A21 (46.6791, 37.4499) -> (43.8266, 37.4499) centre (45.2528, 36.0479) ccw
  arc A22 (82.116, -1.4021) -> (82.116, 1.4021) centre (80.6897, 0) ccw
  arc A23 (43.8266, -37.4499) -> (46.6791, -37.4499) centre (45.2528, -36.0479) ccw
  arc A24 (50.1369, -41.0649) -> (50.1369, -43.869) centre (51.5631, -42.4669) ccw
  arc A25 (83.5738, -77.8824) -> (87, -76.4803) centre (85, -76.4803) ccw
  arc A26 (87, -8.4535) -> (83.5738, -7.0515) centre (85, -8.4535) ccw
  arc A27 (83.5738, 7.0515) -> (87, 8.4535) centre (85, 8.4535) ccw
  arc A28 (87, 76.4803) -> (83.5738, 77.8824) centre (85, 76.4803) ccw
  arc A29 (50.1369, 43.869) -> (50.1369, 41.0649) centre (51.5631, 42.4669) ccw
  arc A30 (76.6442, 85.0979) -> (75.2179, 88.5) centre (75.2179, 86.5) ccw
  arc A31 (8.2764, 88.5) -> (6.8501, 85.0979) centre (8.2764, 86.5) ccw
  arc A32 (40.3209, 51.0501) -> (43.1734, 51.0501) centre (41.7472, 52.4521) ccw
  arc A33 (36.8631, 44.631) -> (36.8631, 47.4351) centre (35.4369, 46.0331) ccw
  arc A34 (-1.4262, 8.5831) -> (1.4262, 8.5831) centre (0, 9.9852) ccw
  arc A35 (-36.8631, 47.4351) -> (-36.8631, 44.631) centre (-35.4369, 46.0331) ccw
  arc A36 (1.4262, 83.483) -> (-1.4262, 83.483) centre (0, 82.0809) ccw
  arc A37 (-6.8501, 85.0979) -> (-8.2764, 88.5) centre (-8.2764, 86.5) ccw
  arc A38 (-75.2179, 88.5) -> (-76.6442, 85.0979) centre (-75.2179, 86.5) ccw
  arc A39 (-43.1734, 51.0501) -> (-40.3209, 51.0501) centre (-41.7472, 52.4521) ccw
  point P0 (87, -81.6485)
  point P1 (80.2557, -88.5)
  point P2 (0.0718, 85.0069)
  point P3 (-0.0718, 85.0069)
  dimension "d39" = 2
extrude "Extrusion2" cut sketch "Sketch2" against normal blind 3 contours A30 L80 A32 L74 A31 L66 | A37 L88 A39 L86 A38 L67 | A25 L109 A24 L71 A26 L68 | A27 L76 A29 L77 A28 L69 | L70 A15 L73 A14 L94 A13 | L72 A23 L110 A20 L102 A21 L75 A22 | L81 A33 L108 A34 L103 A35 L84 A36 | A3 L105 A5 L107 A6 L99 A4 L85 | A2 L90 A0 L89 A1 L87 | A7 L96 A8 L101 A9 L91 | L92 A19 L98 A18 L104 A17 L106 A16 | A12 L100 A10 L97 A11 L93
properties part number "left plate"
